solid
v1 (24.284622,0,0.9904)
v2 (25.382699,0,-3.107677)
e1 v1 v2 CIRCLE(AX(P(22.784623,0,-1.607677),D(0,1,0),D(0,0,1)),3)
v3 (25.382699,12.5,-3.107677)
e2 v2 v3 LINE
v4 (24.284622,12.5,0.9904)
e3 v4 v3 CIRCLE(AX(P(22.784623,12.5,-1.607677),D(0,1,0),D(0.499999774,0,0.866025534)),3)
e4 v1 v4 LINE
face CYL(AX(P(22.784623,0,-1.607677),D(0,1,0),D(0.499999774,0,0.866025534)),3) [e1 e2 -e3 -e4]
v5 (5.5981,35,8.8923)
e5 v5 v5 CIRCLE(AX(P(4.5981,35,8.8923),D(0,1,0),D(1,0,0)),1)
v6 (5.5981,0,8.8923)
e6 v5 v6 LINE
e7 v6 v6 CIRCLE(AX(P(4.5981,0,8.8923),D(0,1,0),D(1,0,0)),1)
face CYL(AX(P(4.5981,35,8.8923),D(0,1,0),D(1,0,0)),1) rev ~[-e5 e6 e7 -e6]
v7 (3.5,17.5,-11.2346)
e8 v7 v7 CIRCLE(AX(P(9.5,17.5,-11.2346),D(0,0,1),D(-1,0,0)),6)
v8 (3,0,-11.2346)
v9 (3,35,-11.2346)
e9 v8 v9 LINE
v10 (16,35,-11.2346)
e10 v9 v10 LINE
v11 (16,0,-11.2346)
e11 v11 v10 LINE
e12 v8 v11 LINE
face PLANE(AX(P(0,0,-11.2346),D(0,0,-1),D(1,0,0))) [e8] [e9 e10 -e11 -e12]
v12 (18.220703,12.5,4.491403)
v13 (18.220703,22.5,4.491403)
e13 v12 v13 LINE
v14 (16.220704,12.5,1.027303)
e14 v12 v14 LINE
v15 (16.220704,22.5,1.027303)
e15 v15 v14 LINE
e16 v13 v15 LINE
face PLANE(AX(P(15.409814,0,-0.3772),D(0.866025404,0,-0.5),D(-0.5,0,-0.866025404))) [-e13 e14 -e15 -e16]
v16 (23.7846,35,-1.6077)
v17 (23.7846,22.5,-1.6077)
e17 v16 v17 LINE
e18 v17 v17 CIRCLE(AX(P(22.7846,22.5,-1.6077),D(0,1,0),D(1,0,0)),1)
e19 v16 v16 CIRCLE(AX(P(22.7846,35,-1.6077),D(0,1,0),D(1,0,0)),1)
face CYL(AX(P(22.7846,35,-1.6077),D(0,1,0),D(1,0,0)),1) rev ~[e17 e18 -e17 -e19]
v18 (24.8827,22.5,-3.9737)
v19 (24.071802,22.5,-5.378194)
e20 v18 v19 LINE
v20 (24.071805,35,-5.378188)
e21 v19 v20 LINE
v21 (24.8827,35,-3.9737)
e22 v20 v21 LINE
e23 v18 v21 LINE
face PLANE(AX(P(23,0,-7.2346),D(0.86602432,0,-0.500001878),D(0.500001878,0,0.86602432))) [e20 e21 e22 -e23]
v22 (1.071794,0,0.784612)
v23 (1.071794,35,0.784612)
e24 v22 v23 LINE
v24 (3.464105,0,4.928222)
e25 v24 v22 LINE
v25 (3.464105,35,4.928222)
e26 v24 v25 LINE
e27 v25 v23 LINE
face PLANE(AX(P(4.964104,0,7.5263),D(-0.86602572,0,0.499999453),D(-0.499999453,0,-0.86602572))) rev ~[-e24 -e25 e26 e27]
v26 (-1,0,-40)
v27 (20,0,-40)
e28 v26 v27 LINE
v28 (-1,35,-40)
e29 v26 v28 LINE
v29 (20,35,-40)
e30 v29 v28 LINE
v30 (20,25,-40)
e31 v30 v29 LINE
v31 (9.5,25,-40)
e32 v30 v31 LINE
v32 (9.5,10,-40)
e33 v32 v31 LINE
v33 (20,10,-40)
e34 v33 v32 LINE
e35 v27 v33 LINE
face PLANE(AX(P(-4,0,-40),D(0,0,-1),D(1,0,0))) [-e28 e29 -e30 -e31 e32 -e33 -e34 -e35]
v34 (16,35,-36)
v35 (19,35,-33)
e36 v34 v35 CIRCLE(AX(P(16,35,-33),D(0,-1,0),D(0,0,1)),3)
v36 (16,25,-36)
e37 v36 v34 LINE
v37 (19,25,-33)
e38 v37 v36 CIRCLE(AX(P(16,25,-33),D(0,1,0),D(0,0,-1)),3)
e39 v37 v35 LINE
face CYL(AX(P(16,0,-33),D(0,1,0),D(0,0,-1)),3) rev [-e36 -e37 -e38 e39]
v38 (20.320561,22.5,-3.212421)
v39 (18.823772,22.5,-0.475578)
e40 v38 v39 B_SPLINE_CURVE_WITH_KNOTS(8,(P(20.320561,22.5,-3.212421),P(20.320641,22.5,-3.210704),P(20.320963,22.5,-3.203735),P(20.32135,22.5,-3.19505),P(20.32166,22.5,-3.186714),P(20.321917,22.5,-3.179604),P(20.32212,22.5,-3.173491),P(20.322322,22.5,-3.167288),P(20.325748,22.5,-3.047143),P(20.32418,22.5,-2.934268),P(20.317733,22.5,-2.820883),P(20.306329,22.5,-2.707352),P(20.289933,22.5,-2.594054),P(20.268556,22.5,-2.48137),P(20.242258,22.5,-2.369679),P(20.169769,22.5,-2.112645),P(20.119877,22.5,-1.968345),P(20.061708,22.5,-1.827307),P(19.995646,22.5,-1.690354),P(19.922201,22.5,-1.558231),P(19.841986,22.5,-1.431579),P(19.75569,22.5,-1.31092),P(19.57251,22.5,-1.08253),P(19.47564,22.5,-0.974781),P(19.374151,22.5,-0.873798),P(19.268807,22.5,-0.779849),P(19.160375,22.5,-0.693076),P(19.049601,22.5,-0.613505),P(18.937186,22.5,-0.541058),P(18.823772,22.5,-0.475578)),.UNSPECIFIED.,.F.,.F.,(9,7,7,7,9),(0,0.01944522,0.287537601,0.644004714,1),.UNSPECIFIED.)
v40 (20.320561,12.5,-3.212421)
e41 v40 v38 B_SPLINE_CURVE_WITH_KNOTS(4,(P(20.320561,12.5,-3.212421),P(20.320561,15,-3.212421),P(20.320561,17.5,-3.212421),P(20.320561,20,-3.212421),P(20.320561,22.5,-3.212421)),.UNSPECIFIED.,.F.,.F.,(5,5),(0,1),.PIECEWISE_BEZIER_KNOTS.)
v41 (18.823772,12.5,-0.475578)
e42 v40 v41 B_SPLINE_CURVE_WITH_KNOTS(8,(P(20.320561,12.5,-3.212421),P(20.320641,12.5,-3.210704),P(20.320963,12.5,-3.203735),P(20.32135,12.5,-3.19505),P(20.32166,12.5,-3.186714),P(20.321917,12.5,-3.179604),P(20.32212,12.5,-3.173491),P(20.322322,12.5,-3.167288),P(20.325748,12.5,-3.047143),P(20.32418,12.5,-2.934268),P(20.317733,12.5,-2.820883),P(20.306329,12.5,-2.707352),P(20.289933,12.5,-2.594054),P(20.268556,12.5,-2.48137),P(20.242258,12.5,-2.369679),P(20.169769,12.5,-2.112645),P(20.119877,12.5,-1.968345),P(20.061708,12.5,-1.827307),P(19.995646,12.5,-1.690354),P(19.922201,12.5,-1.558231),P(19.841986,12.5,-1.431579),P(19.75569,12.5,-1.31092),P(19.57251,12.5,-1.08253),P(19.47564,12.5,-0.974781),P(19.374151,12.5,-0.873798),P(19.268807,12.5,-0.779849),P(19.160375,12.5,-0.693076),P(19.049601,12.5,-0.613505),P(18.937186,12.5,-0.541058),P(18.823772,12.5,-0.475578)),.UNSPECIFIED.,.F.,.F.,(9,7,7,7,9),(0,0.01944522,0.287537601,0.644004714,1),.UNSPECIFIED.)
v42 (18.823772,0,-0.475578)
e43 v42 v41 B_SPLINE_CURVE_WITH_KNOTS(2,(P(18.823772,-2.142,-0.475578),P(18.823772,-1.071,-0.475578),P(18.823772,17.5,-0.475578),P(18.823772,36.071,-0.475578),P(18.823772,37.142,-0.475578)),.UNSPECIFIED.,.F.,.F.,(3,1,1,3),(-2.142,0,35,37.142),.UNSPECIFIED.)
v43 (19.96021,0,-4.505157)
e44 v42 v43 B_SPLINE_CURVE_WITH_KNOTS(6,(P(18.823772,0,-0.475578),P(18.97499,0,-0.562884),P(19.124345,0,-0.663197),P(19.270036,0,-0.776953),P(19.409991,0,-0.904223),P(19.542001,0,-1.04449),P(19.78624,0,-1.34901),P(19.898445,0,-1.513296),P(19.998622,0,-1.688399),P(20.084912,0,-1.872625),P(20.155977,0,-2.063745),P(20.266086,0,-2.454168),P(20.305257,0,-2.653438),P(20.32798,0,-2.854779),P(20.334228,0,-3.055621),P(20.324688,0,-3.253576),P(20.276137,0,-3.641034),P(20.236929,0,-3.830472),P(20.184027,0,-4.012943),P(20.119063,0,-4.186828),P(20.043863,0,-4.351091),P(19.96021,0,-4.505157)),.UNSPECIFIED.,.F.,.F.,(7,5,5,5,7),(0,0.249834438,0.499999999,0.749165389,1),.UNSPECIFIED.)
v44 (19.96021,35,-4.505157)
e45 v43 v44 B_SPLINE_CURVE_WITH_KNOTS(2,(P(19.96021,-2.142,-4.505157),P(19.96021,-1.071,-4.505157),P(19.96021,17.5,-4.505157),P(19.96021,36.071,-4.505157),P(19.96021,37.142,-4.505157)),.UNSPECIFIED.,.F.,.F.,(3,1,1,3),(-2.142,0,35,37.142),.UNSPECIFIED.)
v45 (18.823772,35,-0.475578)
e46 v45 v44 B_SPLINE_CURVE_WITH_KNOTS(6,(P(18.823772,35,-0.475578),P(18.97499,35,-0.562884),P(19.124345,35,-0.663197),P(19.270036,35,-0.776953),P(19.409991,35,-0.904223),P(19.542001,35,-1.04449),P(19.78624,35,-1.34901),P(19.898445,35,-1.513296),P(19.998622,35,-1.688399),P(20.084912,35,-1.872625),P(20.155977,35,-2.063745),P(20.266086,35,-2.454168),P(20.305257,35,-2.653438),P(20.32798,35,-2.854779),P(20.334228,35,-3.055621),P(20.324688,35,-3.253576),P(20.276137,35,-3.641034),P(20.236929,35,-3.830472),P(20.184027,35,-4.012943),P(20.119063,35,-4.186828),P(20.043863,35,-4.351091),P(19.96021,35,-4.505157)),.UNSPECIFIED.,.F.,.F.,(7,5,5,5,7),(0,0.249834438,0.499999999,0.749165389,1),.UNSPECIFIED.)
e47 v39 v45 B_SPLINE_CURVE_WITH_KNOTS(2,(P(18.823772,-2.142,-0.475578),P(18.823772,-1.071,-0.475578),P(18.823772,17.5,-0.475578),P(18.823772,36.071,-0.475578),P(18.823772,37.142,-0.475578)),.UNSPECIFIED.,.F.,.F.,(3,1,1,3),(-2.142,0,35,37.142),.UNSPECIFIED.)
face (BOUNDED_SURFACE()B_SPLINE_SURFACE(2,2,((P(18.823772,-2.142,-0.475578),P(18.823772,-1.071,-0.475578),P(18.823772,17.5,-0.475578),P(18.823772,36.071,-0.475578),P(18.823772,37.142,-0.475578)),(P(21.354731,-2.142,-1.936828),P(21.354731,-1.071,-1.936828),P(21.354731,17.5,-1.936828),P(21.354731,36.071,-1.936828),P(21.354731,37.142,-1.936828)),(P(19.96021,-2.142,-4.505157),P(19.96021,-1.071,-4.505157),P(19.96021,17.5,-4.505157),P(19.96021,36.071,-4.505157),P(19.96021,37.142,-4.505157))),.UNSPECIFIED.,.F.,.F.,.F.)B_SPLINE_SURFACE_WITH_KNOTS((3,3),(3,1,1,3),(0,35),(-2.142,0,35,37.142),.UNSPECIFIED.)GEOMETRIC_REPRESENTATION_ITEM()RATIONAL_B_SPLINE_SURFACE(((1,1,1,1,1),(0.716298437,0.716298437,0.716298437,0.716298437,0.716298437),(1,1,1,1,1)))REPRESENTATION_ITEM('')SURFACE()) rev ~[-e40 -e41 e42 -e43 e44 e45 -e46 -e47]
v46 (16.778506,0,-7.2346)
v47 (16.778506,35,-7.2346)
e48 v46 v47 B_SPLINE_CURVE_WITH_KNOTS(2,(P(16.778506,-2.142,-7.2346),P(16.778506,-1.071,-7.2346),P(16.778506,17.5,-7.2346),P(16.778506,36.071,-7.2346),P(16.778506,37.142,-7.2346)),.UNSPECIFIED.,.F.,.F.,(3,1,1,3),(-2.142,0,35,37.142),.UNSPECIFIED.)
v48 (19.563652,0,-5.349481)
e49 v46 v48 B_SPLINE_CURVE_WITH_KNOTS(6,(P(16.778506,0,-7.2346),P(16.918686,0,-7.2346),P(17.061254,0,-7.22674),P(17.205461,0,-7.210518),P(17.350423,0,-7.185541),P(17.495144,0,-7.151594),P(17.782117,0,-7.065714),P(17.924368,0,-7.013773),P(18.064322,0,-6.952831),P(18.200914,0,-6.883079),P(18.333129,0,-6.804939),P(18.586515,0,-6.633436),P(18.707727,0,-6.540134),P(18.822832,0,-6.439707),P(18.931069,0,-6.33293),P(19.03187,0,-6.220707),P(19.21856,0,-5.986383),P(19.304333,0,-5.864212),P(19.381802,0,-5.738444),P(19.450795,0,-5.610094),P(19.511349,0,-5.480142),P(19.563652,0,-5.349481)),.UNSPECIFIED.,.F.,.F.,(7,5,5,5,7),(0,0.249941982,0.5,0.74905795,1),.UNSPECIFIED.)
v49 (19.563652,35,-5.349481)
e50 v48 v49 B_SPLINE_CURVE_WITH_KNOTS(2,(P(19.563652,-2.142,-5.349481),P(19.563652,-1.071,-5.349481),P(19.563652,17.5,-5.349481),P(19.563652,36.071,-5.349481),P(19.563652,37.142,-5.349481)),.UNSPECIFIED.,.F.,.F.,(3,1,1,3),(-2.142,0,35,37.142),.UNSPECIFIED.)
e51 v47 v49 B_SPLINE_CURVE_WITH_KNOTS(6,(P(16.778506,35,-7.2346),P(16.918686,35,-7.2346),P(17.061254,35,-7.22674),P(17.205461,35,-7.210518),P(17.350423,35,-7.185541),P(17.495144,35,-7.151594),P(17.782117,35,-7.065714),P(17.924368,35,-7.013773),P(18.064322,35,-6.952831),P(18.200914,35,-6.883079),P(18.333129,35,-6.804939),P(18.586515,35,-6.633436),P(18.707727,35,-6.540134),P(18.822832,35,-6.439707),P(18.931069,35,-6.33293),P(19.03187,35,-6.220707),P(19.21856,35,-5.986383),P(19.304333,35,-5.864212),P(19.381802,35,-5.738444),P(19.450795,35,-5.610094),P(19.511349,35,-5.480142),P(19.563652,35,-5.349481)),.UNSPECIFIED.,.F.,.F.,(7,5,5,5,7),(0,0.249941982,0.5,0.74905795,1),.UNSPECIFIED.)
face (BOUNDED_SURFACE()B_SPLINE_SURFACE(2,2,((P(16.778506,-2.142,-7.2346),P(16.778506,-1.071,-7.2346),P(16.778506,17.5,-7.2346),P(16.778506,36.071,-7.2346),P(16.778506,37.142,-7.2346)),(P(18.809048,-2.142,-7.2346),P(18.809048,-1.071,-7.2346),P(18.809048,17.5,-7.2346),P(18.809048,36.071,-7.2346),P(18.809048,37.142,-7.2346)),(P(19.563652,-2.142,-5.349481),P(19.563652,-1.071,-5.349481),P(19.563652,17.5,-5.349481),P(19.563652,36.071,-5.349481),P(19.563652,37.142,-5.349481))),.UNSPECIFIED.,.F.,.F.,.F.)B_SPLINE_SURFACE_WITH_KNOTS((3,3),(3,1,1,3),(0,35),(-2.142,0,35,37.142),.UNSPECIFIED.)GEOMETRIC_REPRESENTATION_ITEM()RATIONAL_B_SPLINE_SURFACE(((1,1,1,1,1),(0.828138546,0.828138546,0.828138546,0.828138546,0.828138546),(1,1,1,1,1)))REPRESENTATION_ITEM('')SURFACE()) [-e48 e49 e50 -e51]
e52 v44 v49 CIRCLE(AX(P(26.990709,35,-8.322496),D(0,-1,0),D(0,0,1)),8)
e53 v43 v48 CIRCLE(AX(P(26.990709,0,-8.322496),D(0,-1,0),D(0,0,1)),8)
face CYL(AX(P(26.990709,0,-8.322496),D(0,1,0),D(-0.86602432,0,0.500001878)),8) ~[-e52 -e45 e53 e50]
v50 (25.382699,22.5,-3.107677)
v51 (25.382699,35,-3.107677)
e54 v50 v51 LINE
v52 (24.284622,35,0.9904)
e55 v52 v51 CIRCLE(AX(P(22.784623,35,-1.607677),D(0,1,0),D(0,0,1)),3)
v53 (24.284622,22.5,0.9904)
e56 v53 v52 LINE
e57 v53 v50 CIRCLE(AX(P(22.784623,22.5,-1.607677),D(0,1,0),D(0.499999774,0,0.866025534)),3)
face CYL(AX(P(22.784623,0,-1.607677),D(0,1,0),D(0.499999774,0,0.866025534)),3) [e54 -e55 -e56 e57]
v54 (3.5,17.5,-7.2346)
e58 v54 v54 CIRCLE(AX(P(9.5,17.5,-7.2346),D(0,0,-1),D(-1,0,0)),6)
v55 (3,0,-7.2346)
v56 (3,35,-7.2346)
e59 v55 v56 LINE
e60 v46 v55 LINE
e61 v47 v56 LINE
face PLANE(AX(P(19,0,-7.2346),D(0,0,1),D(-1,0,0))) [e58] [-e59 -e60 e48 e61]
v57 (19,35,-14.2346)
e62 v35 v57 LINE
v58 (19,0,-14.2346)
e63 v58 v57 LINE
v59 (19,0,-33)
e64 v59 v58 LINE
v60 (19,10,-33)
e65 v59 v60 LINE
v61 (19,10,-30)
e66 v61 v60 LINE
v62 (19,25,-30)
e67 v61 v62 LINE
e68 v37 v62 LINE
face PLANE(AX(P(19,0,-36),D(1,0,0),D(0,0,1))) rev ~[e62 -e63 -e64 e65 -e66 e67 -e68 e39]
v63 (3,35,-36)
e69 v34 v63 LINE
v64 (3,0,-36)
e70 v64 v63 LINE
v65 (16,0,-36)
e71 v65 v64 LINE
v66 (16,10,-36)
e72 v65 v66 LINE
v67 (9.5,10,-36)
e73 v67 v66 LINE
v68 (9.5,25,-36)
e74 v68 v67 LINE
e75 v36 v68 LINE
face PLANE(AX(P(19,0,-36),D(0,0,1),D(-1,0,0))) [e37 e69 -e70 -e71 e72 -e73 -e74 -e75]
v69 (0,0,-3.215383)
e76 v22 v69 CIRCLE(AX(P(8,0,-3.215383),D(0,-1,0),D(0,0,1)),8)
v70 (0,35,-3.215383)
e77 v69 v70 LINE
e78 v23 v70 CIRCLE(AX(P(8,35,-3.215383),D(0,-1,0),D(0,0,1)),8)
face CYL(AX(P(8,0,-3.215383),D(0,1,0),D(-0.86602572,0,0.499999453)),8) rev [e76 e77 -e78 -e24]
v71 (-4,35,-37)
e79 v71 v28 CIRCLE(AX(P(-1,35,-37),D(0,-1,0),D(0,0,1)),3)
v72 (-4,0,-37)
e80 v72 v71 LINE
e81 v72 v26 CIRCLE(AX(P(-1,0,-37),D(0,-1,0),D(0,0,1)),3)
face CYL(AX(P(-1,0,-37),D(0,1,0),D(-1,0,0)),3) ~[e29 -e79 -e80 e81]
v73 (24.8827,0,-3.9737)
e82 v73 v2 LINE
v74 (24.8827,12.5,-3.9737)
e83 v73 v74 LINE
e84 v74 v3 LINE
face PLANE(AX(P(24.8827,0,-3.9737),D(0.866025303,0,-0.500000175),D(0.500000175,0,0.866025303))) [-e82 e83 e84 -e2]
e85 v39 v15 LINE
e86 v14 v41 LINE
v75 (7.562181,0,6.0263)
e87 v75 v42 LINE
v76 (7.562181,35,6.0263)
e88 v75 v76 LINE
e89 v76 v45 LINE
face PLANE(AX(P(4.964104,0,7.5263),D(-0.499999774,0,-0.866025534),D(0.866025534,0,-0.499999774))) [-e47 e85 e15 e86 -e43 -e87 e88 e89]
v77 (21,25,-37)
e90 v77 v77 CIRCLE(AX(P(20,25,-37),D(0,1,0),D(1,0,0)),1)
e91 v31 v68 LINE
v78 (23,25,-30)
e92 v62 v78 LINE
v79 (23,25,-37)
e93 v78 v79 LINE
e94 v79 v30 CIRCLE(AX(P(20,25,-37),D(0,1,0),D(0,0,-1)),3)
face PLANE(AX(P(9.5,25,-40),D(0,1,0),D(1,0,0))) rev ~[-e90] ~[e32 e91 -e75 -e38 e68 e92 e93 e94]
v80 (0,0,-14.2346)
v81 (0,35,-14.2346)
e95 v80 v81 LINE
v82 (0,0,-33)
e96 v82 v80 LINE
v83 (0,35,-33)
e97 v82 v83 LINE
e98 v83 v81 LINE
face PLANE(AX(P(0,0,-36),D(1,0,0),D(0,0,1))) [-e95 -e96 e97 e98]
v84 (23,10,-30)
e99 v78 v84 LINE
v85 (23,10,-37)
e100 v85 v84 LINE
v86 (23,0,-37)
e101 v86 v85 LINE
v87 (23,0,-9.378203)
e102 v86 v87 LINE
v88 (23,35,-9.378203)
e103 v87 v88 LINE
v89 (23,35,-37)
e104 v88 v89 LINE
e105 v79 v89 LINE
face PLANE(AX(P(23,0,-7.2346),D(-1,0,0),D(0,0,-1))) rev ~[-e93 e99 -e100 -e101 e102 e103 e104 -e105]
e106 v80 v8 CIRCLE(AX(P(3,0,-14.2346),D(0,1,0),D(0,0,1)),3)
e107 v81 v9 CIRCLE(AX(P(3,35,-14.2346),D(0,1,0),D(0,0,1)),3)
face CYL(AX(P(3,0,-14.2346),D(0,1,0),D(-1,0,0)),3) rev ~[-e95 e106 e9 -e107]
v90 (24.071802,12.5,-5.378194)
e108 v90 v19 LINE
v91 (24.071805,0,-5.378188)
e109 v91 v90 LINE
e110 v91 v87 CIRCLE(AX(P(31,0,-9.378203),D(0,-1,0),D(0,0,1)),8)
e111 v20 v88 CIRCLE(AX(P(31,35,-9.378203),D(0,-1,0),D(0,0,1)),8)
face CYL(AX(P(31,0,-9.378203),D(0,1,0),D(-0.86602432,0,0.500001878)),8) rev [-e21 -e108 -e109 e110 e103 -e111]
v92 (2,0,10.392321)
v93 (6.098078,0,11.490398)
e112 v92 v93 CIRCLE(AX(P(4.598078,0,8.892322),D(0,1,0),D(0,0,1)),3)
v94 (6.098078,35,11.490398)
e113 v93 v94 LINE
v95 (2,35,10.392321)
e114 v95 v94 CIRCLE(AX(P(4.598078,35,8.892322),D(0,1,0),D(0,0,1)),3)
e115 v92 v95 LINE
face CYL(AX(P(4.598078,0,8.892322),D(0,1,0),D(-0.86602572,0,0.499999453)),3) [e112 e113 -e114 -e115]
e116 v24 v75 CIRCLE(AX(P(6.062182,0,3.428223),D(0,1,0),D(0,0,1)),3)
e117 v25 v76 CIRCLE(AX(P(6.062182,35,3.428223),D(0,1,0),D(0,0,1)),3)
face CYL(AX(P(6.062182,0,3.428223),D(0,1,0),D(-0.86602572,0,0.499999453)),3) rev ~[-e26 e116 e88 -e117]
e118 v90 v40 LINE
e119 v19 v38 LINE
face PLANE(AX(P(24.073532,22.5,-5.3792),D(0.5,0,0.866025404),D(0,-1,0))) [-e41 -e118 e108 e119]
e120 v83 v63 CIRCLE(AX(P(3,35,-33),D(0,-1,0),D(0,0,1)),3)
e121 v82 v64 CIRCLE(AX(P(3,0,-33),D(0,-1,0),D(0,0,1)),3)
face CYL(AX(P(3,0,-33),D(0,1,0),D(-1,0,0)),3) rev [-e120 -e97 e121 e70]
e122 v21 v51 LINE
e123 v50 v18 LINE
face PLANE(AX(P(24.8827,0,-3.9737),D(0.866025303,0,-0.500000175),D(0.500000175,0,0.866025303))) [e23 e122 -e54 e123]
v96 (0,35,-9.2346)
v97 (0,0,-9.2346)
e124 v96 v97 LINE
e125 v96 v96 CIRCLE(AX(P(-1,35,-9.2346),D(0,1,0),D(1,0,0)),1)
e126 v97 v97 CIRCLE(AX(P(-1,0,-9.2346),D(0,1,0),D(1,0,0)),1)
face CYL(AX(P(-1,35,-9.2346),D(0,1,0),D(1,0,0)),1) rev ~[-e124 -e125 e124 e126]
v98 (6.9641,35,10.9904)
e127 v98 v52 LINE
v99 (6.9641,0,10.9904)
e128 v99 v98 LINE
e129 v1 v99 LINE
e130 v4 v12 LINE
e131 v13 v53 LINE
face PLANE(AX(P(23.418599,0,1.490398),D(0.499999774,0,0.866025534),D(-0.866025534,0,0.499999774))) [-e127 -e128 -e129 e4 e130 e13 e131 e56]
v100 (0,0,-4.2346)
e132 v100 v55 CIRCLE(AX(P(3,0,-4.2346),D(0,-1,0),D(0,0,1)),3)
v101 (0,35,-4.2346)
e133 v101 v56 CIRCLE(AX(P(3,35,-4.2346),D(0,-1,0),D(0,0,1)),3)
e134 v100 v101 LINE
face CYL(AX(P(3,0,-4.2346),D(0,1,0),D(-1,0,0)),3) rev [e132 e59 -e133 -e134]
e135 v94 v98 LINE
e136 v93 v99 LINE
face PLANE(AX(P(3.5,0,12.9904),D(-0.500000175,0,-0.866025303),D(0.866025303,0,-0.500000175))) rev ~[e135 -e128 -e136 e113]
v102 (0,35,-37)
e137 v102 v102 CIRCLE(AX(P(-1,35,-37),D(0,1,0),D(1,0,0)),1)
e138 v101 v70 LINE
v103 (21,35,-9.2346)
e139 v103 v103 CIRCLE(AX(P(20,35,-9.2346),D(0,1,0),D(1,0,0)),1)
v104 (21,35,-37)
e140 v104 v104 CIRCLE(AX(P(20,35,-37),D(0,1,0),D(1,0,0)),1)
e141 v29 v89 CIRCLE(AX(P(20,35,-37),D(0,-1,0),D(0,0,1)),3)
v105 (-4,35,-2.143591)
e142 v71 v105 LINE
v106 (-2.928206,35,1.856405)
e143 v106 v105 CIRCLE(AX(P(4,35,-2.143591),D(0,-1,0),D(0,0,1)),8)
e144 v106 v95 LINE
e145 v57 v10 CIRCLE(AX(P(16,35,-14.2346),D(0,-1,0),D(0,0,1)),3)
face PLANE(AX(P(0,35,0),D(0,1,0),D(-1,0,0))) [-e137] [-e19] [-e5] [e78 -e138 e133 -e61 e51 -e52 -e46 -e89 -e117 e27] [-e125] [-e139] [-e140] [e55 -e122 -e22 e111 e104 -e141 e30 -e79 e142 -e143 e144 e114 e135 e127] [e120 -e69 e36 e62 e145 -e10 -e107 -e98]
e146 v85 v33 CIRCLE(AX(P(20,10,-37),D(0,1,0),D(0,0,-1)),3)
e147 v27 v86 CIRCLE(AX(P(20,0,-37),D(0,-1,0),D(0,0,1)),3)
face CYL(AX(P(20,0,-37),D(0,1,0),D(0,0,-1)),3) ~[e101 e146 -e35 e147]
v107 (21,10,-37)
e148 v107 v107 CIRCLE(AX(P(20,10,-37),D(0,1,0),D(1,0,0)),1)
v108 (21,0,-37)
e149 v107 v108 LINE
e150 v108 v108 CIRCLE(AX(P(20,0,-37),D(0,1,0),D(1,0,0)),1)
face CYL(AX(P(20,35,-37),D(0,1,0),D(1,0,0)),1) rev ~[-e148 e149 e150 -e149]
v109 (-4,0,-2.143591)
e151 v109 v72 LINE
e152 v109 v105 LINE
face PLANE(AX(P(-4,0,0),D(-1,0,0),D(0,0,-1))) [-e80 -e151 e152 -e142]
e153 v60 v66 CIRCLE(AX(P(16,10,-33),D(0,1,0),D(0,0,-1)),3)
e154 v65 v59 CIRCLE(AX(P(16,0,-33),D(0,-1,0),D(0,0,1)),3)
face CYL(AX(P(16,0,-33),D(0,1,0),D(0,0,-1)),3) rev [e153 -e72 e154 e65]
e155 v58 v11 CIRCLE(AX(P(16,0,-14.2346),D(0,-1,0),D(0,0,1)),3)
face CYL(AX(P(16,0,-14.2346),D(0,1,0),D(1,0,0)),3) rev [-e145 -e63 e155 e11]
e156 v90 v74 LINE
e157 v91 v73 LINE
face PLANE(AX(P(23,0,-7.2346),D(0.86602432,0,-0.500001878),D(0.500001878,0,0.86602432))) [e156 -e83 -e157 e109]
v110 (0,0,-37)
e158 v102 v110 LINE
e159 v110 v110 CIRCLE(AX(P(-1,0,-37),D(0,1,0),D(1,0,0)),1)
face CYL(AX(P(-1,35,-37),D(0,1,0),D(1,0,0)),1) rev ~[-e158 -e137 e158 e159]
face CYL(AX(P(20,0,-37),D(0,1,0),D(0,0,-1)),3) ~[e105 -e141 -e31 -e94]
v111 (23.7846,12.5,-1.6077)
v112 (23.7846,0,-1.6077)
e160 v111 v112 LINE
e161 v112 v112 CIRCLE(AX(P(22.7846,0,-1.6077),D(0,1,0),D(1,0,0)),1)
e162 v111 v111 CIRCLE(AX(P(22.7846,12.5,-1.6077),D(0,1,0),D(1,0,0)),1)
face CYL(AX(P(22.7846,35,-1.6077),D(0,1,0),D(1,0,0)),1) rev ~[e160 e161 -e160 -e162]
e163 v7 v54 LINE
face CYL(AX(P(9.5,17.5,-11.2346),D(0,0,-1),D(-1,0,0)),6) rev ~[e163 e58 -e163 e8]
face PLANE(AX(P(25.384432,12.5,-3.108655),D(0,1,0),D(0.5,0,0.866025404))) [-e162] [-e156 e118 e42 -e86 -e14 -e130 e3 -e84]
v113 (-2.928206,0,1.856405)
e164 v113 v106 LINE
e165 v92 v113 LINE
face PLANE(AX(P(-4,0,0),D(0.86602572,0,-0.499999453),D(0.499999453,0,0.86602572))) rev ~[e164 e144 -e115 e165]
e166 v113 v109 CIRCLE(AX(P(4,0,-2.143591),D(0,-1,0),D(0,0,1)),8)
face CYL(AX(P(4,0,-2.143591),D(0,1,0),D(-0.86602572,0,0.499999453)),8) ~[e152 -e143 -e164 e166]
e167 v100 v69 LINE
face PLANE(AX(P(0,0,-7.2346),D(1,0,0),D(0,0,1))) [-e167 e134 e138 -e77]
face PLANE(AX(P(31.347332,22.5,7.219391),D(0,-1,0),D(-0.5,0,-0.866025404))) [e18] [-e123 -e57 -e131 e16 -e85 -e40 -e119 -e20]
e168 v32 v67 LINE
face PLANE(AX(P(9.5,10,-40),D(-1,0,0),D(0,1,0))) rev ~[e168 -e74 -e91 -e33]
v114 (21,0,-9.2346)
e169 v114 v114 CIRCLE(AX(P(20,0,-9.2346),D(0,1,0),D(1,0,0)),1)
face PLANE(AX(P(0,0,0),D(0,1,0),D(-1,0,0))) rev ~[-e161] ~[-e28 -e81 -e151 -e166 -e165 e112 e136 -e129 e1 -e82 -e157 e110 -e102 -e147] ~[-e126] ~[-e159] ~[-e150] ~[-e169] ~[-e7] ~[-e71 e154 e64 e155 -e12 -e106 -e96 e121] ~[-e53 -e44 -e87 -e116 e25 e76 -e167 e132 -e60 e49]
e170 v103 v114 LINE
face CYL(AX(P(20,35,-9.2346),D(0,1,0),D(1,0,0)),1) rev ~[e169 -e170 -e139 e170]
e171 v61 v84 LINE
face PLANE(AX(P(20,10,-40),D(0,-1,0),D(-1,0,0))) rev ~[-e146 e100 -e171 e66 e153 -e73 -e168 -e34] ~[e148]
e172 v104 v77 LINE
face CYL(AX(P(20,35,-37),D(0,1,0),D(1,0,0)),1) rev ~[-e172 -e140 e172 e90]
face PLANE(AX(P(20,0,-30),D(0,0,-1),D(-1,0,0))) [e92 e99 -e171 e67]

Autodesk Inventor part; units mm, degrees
ref_plane "YZ Plane" through (0, 0, 0) normal (1, 0, 0) x (0, 1, 0)
ref_plane "XZ Plane" through (0, 0, 0) normal (0, 1, 0) x (-1, 0, 0)
ref_plane "XY Plane" through (0, 0, 0) normal (0, 0, 1) x (1, 0, 0)
sketch "スケッチ1" plane through (0, 0, 0) normal (0, 1, 0) x (-1, 0, 0)
  line L0 (0, 0) -> (4, 0)
  line L1 (4, 0) -> (4, -40)
  line L2 (4, -40) -> (0, -40)
  line L3 (0, -40) -> (0, 0)
  line L4 (-3.5, 12.9904) -> (-6.9641, 10.9904)
  line L5 (-6.9641, 10.9904) -> (0.5359, -2)
  line L6 (0.5359, -2) -> (4, 0)
  line L7 (4, 0) -> (-3.5, 12.9904)
  line L8 (4, -40) -> (-23, -40)
  line L9 (-23, -40) -> (-23, -36)
  line L10 (-23, -36) -> (4, -36)
  line L11 (4, -36) -> (4, -40)
  line L12 (-3.5, 12.9904) -> (-1.5, 9.5263)
  line L13 (-1.5, 9.5263) -> (-24.8827, -3.9737)
  line L14 (-24.8827, -3.9737) -> (-26.8827, -0.5096)
  line L15 (-26.8827, -0.5096) -> (-3.5, 12.9904)
  line L16 (-23, -40) -> (-19, -40)
  line L17 (-19, -40) -> (-19, -7.2346)
  line L18 (-19, -7.2346) -> (-23, -7.2346)
  line L19 (-23, -7.2346) -> (-23, -40)
  line L20 (-26.8827, -0.5096) -> (-23.4186, 1.4904)
  line L21 (-23.4186, 1.4904) -> (-19.5359, -5.2346)
  line L22 (-19.5359, -5.2346) -> (-23, -7.2346)
  line L23 (-23, -7.2346) -> (-26.8827, -0.5096)
  line L24 (-23, -7.2346) -> (4, -7.2346)
  line L25 (4, -7.2346) -> (4, -11.2346)
  line L26 (4, -11.2346) -> (-23, -11.2346)
  line L27 (-23, -11.2346) -> (-23, -7.2346)
  line L28 (-19.5359, -5.2346) -> (-19, -7.2346)
  point P0 (0, -1.0718)
  point P1 (-21.4186, -1.9737)
  point P2 (-4.9641, 7.5263)
  point P3 (-24.8827, -3.9737)
  point P4 (0, -36)
  point P5 (-19, -36)
  point P6 (-19, -11.2346)
  point P7 (0, -11.2346)
  point P8 (0, -7.2346)
  dimension "d2" = 4
  dimension "d3" = 30
  dimension "d5" = 40
  dimension "d6" = 15
  dimension "d7" = 27
  dimension "d8" = 27
extrude "押し出し1" add sketch "スケッチ1" along normal blind 35 contours L3 L5 L13 L7 L0 | L0 L6 L5 L3 | L1 L24 L3 L5 L6 | L1 L26 L3 L24 | L13 L5 L4 L7 | L3 L26 L17 L24 | L13 L21 L15 L5 | L1 L10 L3 L26 | L17 L26 L19 L18 | L18 L22 L28 | L21 L22 L23 L13 | L13 L14 L15 L21 | L1 L2 L3 L10 | L3 L8 L17 L10 | L17 L10 L19 L26 | L17 L8 L9 L10
fillet "フィレット1" radius 8 4 edges at (-4, 17.5, 0) (23, 17.5, -7.2346) (19.5359, 17.5, -5.2346) (0, 17.5, -1.0718)
fillet "フィレット2" radius 3 12 edges at (3.5, 17.5, 12.9904) (26.8827, 17.5, -0.5096) (23, 17.5, -40) (-4, 17.5, -40) (0, 17.5, -11.2346) (19, 17.5, -36) (0, 17.5, -36) (19, 17.5, -11.2346) (4.9641, 17.5, 7.5263) (0, 17.5, -7.2346) (19, 17.5, -7.2346) (21.4186, 17.5, -1.9737)
sketch "スケッチ2" plane through (0, 35, 0) normal (0, 1, 0) x (1, 0, 0)
  circle A0 centre (4.5981, -8.8923) radius 1
  arc A1 (2, -10.3923) -> (6.0981, -11.4904) centre (4.5981, -8.8923) ccw projected
  circle A2 centre (22.7846, 1.6077) radius 1
  circle A3 centre (20, 37) radius 1
  circle A4 centre (20, 9.2346) radius 1
  circle A5 centre (-1, 9.2346) radius 1
  circle A6 centre (-1, 37) radius 1
  arc A7 (24.2846, -0.9904) -> (25.3827, 3.1077) centre (22.7846, 1.6077) ccw projected
  arc A8 (-1, 40) -> (-4, 37) centre (-1, 37) ccw projected
  arc A9 (23, 37) -> (20, 40) centre (20, 37) ccw projected
  line L0 (3, 7.2346) -> (16.7785, 7.2346) projected
  line L1 (16, 11.2346) -> (3, 11.2346) projected
  point P0 (0, 0)
  dimension "d10" = 2
  dimension "d11" = 2
  dimension "d12" = 2
  dimension "d13" = 2
  dimension "d14" = 2
  dimension "d15" = 2
  dimension "d16" = 2
  dimension "d17" = 2
extrude "押し出し2" cut sketch "スケッチ2" against normal through all
sketch "スケッチ3" plane through (24.0718, 0, -5.3782) normal (0.866, 0, -0.5) x (-0.5, 0, -0.866)
  line L0 (-2.6218, 0) -> (-2.6218, 35) projected
  line L1 (-2.6218, 0) -> (0, 0) projected
  line L2 (0, 35) -> (0, 0) projected
  line L3 (-2.6218, 35) -> (0, 35) projected
  line L4 (0, 12.5) -> (-14.5476, 12.5)
  line L5 (-14.5476, 12.5) -> (-14.5476, 22.5)
  line L6 (-14.5476, 22.5) -> (0, 22.5)
  line L7 (0, 22.5) -> (0, 12.5)
  line L8 (0, 35) -> (0, 0) projected
  point P0 (7.3782, 0)
  point P1 (0, 17.5)
  point P2 (0, 17.5)
  dimension "d20" = 10
extrude "押し出し3" cut sketch "スケッチ3" against normal blind 10 contours L4 L5 L6 L0 | L0 L6 L2 L4
sketch "スケッチ5" plane through (16, 0, -11.2346) normal (0, 0, -1) x (-1, 0, 0)
  line L0 (0, 0) -> (0, 35) projected
  line L1 (0, 0) -> (13, 0) projected
  line L2 (13, 35) -> (13, 0) projected
  line L3 (0, 35) -> (13, 35) projected
  line L4 (0, 35) -> (13, 35) projected
  line L5 (13, 35) -> (0, 0)
  line L6 (13, 0) -> (0, 35)
  circle A0 centre (6.5, 17.5) radius 6
  point P0 (16, 0)
  dimension "d26" = 12
extrude "押し出し5" cut sketch "スケッチ5" against normal up to surface (4 mm away) contours A0 L6 L5 | L5 L6 A0 | A0 L5 L6 | L6 L5 A0
sketch "スケッチ6" plane through (20, 0, -40) normal (0, 0, -1) x (-1, 0, 0)
  line L0 (21, 35) -> (21, 0) projected
  line L1 (0, 35) -> (21, 35) projected
  line L2 (0, 0) -> (0, 35) projected
  line L3 (0, 0) -> (21, 0) projected
  line L4 (10.5, 25) -> (-9.5, 25)
  line L5 (-9.5, 25) -> (-9.5, 10)
  line L6 (-9.5, 10) -> (10.5, 10)
  line L7 (10.5, 10) -> (10.5, 25)
  line L8 (0, 0) -> (21, 0) projected
  line L9 (21, 35) -> (21, 0) projected
  point P0 (20, 0)
  point P1 (10.5, 0)
  point P2 (10.5, 17.5)
  point P3 (21, 17.5)
  dimension "d29" = 15
extrude "押し出し6" cut sketch "スケッチ6" against normal blind 10 contours L4 L7 L6 L2 | L2 L6 L5 L4
equation "\"d16\" = d17"
properties part number "leg_upper_middle"
